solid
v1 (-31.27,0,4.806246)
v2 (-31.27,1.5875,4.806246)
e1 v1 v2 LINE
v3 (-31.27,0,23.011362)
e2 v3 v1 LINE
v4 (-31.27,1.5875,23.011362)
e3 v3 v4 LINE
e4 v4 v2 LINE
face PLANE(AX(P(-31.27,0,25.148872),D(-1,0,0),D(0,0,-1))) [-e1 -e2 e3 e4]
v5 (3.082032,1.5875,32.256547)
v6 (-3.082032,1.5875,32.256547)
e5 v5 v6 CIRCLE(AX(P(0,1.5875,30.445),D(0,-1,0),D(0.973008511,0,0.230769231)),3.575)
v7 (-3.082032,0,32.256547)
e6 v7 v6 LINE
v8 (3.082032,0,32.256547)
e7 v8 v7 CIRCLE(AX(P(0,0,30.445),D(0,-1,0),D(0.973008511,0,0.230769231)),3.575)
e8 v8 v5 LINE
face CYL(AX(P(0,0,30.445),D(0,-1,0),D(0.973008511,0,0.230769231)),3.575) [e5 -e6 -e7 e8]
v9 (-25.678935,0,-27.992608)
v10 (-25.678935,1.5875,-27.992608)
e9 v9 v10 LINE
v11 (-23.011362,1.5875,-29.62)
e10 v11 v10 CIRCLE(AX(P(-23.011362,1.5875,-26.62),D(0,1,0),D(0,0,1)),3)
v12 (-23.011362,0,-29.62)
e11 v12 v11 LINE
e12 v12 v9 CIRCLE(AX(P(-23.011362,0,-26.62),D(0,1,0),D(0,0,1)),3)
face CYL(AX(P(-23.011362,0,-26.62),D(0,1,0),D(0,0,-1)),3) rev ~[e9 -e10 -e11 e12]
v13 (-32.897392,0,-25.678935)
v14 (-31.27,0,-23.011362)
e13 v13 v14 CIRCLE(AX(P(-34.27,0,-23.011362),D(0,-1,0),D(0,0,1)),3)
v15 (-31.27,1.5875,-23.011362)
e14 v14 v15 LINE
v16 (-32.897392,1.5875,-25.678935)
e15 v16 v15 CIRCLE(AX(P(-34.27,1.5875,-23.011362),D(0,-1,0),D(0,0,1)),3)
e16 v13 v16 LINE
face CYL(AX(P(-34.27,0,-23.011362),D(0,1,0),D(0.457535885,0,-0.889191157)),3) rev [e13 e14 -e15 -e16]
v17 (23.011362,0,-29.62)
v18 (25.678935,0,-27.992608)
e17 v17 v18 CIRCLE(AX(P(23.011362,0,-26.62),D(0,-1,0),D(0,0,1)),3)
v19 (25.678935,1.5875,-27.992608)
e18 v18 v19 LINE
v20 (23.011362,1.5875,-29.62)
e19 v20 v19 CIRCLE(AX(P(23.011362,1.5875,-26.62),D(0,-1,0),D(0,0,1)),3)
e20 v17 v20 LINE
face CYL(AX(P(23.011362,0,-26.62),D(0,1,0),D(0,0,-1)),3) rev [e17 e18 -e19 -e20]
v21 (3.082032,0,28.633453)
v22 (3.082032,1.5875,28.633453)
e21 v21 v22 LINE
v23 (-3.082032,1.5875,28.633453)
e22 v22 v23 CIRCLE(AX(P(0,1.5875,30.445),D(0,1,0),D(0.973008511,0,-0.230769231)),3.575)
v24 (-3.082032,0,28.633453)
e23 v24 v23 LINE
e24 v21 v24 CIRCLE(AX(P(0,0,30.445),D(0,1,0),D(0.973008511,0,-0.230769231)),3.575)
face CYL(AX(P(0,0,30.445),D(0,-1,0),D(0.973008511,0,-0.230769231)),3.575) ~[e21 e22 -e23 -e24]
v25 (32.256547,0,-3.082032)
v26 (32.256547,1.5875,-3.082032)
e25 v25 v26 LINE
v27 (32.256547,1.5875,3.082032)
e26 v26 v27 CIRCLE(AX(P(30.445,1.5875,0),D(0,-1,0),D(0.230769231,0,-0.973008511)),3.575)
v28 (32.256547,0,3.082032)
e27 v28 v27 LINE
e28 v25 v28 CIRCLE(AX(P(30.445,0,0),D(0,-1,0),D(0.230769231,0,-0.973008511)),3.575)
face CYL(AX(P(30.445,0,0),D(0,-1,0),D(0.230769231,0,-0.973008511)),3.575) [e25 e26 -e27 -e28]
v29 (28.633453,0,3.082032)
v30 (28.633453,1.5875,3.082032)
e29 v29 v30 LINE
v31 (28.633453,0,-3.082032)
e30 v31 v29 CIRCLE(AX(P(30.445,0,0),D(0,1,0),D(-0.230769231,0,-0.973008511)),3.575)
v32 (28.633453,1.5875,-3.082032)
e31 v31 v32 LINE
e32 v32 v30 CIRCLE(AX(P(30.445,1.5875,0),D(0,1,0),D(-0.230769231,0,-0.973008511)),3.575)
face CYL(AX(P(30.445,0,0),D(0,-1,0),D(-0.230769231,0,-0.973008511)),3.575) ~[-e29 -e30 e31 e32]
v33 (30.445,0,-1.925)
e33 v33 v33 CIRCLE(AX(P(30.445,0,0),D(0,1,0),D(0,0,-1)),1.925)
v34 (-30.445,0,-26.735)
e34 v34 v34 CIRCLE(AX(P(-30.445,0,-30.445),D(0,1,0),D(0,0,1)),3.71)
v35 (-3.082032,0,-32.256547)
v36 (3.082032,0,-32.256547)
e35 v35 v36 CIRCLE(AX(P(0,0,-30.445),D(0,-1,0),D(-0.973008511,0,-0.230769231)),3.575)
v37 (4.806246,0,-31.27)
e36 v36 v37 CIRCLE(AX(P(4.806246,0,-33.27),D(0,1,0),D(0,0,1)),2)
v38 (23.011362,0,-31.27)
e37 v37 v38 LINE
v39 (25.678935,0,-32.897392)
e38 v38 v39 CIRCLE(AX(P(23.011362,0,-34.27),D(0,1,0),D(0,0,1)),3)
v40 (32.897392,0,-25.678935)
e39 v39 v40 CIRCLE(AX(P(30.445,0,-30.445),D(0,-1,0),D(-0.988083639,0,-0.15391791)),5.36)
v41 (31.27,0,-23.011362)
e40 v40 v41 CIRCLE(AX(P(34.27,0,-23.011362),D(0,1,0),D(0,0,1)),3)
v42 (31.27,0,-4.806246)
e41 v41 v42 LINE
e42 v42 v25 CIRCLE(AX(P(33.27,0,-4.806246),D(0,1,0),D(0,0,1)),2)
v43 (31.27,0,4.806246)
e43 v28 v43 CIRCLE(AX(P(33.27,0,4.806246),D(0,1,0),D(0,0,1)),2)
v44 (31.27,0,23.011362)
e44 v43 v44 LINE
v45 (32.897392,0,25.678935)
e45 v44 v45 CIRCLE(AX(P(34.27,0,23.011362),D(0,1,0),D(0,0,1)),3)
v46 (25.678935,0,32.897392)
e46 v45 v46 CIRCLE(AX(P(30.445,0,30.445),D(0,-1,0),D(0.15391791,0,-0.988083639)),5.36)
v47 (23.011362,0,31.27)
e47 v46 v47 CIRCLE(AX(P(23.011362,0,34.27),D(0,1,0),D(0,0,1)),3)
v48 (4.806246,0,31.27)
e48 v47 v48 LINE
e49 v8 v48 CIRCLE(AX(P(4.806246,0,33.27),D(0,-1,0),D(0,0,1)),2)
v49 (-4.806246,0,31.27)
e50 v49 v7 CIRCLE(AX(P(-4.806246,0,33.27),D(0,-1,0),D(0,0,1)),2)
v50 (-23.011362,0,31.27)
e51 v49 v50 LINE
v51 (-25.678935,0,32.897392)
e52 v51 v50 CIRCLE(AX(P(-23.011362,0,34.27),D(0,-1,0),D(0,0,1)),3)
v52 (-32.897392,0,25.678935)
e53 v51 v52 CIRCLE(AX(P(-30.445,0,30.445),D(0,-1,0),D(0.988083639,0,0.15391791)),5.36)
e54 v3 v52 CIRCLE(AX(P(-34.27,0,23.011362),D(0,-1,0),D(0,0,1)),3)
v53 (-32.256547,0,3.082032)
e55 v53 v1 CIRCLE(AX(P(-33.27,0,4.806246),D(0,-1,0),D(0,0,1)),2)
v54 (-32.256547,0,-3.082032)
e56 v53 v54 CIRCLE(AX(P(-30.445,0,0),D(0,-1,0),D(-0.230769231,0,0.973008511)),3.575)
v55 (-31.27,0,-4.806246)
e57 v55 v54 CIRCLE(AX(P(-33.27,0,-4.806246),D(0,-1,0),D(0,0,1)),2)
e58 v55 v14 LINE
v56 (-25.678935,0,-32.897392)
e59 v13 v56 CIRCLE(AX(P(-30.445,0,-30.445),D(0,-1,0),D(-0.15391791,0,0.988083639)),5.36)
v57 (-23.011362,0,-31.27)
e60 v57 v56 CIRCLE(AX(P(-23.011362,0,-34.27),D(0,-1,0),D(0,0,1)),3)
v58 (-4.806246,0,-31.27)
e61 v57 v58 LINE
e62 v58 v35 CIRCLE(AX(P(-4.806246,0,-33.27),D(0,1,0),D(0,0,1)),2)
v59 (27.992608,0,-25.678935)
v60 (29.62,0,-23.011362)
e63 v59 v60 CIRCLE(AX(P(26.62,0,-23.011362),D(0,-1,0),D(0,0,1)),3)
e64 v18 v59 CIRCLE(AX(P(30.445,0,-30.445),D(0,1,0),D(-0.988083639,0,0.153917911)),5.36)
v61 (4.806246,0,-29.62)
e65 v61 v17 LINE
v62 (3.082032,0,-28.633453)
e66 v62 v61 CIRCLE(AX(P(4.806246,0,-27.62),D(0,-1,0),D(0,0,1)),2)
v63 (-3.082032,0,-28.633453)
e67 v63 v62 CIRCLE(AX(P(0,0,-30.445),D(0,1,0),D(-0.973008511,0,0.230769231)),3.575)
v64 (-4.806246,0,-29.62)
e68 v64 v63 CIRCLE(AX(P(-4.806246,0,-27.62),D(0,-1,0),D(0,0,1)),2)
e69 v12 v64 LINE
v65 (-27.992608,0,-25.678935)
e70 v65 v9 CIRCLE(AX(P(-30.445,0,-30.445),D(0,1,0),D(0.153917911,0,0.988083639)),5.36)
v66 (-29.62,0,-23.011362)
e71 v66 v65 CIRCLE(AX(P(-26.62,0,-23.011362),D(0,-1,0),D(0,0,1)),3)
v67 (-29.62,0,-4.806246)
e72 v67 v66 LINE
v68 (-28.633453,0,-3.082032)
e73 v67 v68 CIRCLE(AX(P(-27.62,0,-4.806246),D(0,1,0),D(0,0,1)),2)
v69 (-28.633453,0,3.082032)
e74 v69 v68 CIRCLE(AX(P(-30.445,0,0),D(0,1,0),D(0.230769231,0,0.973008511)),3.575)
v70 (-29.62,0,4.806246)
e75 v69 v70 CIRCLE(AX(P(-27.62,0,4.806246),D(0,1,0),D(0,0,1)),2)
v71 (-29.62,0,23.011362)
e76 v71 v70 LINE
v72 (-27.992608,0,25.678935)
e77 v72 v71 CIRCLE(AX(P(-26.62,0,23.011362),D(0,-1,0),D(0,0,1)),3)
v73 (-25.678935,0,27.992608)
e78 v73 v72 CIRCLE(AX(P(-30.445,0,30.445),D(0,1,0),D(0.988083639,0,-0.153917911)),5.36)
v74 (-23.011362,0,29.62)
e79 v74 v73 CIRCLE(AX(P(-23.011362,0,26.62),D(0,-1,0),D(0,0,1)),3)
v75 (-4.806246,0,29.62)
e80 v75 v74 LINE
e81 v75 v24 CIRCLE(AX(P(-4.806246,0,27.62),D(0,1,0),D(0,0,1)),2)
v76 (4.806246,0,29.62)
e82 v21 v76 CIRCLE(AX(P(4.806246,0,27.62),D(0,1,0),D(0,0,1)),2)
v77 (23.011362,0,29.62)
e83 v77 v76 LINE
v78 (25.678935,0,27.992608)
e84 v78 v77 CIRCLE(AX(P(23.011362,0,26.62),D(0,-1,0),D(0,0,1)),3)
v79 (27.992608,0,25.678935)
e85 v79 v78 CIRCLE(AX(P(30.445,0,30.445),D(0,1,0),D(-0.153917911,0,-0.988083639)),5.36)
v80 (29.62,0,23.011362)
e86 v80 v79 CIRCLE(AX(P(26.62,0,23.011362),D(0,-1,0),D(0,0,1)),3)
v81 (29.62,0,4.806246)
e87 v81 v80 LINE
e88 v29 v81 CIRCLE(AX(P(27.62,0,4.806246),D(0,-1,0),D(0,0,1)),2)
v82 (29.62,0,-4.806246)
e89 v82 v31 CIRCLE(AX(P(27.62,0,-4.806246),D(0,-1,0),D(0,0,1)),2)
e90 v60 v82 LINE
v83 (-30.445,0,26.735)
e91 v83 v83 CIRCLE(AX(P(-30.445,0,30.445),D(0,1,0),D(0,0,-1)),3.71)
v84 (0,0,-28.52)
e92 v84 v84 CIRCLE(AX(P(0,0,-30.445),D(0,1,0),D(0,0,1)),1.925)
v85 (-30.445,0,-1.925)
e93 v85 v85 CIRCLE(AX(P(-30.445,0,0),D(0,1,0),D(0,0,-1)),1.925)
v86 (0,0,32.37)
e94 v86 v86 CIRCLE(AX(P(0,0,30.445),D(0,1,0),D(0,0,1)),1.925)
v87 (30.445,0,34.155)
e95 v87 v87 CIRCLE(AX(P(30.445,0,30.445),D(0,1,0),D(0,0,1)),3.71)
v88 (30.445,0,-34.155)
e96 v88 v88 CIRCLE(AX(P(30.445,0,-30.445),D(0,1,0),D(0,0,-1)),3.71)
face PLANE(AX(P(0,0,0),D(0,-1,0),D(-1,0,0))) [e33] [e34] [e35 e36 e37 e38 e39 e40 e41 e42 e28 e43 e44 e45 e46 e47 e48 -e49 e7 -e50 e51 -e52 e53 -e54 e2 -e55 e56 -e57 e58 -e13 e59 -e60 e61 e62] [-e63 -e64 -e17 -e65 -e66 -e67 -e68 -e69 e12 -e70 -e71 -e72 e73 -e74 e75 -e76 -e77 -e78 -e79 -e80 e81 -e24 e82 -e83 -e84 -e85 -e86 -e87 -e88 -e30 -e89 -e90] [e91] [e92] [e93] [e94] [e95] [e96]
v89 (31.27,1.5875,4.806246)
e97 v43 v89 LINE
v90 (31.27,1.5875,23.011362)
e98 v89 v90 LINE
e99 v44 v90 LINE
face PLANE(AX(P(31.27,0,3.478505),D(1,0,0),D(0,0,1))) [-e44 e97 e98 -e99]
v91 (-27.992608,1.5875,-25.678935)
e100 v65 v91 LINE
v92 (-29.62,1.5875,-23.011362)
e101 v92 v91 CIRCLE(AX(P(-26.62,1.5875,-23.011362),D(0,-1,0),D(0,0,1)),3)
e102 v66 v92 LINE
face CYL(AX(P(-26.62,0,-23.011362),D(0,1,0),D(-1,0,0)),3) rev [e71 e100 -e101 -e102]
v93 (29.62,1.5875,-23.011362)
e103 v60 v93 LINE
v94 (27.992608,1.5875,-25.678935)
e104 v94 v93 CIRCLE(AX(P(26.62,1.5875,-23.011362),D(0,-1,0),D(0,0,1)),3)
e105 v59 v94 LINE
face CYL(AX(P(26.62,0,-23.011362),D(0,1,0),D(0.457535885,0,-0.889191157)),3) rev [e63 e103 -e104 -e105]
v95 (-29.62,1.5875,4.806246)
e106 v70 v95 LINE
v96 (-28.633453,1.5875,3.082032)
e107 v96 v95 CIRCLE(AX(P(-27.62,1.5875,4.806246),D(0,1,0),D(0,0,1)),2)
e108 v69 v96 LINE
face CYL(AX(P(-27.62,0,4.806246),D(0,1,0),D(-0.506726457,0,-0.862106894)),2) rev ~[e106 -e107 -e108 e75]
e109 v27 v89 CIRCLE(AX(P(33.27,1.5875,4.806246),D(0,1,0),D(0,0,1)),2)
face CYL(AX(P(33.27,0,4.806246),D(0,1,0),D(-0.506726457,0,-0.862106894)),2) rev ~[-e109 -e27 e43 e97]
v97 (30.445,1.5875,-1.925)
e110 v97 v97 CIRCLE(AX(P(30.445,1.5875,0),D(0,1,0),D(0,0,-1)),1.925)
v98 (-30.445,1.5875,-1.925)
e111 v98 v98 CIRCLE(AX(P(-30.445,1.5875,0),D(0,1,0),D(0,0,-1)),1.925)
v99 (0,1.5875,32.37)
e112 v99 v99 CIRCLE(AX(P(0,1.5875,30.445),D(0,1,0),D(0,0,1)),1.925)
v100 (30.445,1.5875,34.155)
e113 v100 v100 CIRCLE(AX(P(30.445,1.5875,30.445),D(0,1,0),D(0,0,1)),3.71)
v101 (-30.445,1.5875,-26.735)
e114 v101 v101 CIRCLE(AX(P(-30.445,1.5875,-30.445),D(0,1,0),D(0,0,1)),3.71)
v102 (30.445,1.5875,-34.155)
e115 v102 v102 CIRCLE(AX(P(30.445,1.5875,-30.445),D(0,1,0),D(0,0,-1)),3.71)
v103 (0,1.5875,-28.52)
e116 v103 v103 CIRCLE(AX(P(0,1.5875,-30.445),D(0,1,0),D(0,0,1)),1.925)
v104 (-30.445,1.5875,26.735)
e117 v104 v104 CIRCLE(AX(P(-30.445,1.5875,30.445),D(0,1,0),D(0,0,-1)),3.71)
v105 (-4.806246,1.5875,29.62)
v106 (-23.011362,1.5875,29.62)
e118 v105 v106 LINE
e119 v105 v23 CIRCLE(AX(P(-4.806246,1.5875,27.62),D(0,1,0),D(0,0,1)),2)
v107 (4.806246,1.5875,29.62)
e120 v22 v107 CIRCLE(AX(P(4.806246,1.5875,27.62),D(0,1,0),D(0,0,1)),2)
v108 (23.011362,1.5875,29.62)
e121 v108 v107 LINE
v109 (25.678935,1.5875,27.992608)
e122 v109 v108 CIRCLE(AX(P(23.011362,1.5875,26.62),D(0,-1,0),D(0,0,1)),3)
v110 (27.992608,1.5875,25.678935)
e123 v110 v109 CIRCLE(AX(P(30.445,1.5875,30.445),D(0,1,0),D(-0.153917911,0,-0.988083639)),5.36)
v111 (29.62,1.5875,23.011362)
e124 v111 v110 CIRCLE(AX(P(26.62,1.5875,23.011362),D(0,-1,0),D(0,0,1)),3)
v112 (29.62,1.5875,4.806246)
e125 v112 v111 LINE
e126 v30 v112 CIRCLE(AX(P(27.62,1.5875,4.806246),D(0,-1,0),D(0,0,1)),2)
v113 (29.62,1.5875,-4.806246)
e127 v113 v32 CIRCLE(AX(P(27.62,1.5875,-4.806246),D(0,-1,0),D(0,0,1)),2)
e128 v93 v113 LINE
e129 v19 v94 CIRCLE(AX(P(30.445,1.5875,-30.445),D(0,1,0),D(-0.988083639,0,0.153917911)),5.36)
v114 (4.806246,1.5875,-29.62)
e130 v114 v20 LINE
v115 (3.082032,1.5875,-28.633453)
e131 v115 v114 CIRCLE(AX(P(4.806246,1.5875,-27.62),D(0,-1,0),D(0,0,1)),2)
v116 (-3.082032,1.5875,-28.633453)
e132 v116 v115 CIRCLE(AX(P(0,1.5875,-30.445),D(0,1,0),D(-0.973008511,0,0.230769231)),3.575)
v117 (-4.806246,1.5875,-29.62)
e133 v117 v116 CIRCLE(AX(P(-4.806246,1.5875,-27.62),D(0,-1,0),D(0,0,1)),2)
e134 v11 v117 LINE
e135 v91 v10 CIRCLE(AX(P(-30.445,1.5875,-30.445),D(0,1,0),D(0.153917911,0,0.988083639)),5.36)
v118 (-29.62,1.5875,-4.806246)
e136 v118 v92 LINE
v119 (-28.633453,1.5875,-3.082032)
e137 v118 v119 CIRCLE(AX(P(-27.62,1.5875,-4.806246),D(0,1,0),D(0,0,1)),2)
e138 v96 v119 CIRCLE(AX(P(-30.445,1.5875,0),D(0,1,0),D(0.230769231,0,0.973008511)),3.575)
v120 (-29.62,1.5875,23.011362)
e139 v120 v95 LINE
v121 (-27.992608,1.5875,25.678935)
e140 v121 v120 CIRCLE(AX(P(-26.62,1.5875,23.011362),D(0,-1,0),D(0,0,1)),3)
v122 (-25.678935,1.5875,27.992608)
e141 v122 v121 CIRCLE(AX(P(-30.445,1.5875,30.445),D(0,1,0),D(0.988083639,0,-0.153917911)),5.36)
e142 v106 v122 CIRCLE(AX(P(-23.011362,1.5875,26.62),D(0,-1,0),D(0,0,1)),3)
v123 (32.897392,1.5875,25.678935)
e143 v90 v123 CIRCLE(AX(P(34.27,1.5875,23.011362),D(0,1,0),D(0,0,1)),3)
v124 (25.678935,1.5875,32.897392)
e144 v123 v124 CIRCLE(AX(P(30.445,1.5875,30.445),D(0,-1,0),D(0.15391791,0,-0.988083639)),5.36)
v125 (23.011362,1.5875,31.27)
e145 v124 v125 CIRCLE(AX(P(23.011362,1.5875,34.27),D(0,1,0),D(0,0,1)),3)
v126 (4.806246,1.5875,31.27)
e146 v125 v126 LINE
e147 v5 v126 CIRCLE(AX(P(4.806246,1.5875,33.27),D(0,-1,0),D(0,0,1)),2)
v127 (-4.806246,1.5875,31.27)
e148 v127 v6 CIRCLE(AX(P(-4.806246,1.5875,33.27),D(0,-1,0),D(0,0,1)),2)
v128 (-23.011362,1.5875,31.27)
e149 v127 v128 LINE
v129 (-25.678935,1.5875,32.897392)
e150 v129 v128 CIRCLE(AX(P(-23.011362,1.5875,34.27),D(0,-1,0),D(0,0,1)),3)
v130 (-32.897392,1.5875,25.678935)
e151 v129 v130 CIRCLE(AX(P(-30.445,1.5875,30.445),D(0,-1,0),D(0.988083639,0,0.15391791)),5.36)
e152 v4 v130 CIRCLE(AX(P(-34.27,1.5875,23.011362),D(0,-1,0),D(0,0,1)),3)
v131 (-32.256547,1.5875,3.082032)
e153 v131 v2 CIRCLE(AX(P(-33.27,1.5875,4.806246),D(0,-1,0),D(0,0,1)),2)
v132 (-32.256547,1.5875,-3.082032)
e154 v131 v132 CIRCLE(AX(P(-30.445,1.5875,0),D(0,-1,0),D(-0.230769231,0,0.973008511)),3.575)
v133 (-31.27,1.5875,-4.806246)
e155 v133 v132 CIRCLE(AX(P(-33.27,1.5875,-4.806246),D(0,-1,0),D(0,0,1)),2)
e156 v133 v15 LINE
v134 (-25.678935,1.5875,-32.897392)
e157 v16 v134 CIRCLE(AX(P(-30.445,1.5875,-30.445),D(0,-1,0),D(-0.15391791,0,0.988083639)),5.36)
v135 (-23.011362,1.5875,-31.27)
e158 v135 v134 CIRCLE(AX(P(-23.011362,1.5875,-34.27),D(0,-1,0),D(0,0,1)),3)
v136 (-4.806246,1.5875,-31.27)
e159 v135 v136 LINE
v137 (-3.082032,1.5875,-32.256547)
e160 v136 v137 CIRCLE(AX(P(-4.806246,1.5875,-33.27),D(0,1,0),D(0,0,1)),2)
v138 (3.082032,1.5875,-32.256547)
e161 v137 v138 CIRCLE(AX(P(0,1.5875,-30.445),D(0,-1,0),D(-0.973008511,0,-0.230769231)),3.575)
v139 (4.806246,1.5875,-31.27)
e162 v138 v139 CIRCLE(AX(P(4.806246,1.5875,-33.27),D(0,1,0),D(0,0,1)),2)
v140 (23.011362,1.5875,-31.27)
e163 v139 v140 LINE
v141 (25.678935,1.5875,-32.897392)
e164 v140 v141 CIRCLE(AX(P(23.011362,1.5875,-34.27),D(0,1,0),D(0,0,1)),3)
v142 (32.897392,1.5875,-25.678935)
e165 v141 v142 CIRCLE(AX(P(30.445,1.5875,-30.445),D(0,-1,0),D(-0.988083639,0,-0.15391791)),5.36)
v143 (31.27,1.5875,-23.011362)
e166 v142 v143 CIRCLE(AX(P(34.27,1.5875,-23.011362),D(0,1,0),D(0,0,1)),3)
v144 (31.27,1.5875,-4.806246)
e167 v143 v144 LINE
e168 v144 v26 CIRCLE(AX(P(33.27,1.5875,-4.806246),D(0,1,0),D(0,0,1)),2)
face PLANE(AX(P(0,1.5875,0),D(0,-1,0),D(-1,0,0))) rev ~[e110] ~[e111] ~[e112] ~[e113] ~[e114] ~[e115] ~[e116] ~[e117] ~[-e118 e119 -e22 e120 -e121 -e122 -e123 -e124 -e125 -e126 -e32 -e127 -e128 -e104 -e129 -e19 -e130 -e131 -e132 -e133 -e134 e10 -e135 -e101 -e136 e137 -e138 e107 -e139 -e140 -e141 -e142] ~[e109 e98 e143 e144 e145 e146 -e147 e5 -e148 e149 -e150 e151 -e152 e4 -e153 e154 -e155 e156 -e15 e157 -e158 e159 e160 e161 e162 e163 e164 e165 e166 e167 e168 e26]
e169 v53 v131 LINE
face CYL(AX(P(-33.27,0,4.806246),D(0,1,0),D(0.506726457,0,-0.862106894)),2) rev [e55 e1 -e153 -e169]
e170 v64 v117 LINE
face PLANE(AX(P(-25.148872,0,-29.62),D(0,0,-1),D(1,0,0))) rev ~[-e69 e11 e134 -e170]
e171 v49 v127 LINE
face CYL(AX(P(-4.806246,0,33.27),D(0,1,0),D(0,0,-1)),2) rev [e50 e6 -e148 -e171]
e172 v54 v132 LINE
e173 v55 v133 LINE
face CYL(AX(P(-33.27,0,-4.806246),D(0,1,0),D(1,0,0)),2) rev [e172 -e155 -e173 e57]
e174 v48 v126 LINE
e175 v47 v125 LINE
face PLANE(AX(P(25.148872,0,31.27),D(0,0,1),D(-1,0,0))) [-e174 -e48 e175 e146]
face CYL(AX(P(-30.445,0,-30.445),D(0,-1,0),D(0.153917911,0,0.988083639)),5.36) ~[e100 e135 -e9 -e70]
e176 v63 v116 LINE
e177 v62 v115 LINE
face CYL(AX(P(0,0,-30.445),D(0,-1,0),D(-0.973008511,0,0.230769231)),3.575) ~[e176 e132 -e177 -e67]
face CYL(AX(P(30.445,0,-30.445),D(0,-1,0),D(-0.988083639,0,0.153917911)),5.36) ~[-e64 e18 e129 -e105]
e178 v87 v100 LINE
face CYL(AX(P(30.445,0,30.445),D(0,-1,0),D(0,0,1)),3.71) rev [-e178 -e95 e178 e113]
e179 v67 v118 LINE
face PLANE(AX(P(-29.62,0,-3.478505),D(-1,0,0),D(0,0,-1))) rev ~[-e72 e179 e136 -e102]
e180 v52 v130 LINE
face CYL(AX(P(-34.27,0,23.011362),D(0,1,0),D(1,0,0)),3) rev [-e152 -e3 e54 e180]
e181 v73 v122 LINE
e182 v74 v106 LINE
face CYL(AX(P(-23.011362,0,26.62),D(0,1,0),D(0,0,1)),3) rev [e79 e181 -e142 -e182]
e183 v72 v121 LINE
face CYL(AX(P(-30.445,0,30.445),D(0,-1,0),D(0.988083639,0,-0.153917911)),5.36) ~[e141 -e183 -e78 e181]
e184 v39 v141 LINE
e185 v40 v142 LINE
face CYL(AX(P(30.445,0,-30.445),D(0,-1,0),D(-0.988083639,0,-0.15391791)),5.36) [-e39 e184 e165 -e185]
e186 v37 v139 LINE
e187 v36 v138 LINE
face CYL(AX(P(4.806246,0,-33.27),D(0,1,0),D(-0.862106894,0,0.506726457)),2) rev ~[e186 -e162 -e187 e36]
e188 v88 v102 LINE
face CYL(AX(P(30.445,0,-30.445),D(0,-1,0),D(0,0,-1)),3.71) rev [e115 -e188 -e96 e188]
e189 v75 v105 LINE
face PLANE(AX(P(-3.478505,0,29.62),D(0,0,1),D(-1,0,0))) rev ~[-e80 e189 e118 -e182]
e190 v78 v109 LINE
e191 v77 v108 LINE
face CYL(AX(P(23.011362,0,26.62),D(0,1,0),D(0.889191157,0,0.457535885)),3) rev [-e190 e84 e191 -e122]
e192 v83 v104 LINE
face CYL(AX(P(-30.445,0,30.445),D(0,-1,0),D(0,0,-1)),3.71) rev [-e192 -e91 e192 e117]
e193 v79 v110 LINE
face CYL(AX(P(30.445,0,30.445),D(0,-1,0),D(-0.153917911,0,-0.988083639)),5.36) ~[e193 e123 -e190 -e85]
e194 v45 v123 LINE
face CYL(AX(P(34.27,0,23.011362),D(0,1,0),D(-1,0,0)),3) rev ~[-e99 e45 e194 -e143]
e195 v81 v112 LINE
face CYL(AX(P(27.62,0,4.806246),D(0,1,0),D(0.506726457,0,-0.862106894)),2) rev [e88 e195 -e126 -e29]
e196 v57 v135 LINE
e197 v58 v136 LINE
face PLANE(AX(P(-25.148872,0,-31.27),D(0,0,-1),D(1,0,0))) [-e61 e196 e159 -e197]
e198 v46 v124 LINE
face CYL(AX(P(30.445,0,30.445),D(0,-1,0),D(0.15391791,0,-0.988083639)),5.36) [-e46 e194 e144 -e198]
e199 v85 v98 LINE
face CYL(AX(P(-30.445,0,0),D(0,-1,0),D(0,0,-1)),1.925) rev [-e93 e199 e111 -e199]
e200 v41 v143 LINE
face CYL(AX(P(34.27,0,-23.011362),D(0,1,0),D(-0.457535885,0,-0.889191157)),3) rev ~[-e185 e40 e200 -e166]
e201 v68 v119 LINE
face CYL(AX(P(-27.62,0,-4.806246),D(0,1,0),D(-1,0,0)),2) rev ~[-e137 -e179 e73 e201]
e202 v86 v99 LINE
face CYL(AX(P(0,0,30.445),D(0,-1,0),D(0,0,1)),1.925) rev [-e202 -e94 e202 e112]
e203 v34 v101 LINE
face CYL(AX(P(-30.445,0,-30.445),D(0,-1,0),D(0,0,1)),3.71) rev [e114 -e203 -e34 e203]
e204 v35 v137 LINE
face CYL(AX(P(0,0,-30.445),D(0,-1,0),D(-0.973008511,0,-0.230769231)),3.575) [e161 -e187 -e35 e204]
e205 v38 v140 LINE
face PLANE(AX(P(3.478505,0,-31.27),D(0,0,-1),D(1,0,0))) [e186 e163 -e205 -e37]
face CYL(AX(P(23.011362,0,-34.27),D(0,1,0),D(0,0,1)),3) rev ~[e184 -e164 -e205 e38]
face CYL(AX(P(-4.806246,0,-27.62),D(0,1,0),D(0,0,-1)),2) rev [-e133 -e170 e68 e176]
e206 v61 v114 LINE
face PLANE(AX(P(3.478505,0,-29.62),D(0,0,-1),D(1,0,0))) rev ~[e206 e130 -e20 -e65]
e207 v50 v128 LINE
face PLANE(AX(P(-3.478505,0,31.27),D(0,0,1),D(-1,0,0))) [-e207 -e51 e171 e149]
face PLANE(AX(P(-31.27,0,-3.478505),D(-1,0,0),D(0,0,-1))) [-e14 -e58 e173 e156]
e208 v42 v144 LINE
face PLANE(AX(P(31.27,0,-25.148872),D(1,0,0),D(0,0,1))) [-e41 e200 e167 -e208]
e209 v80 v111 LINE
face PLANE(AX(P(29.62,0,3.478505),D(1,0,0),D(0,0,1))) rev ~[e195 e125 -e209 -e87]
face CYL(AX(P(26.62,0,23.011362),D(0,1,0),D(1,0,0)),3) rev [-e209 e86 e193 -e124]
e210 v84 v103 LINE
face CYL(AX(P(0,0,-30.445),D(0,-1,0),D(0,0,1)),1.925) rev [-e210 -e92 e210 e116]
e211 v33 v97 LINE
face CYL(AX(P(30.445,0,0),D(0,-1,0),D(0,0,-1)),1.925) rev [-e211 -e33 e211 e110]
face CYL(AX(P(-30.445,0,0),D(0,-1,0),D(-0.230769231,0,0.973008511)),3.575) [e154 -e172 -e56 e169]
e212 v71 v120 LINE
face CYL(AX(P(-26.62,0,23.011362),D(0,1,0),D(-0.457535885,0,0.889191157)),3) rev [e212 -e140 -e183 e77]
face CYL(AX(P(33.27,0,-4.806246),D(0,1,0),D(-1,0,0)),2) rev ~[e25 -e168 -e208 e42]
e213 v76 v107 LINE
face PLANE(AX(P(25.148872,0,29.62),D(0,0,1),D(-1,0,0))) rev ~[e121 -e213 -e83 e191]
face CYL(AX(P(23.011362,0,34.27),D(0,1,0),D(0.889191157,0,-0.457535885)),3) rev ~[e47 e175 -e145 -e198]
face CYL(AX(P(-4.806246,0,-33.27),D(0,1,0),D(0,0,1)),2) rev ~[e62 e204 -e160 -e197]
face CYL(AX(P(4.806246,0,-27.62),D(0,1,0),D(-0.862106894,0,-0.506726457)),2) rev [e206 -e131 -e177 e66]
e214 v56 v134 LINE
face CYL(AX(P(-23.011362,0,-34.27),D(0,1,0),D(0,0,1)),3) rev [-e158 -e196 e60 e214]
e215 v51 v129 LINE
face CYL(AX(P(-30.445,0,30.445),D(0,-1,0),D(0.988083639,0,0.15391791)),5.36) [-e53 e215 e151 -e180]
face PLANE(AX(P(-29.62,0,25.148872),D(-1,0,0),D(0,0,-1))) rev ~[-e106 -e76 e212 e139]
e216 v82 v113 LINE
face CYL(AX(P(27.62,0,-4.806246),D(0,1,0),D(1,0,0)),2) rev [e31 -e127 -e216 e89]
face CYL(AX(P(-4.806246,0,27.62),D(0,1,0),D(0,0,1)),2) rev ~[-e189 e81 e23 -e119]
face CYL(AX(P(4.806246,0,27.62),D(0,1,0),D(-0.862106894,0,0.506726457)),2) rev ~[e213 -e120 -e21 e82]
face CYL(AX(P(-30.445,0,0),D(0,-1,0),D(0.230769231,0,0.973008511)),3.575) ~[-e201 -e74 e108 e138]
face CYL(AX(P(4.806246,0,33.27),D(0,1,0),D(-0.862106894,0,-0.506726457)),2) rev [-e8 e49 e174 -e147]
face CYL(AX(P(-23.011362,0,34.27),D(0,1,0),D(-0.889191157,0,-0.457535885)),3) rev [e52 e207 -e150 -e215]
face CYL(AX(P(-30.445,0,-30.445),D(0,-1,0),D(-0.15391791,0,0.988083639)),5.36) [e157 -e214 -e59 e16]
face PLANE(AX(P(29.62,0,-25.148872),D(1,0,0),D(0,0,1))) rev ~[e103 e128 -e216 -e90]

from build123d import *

# Parameters (mm, degrees)
SKETCH1_R           = 3.71
SKETCH1_R_2         = 1.925
BOSS_EXTRUDE1_DEPTH = 1.5875
FILLET3_R           = 3
FILLET4_R           = 2


with BuildPart() as part:
    # Sketch1 → Boss-Extrude1 (new body)
    with BuildSketch(Plane(origin=(0, 0, 0), x_dir=(1, 0, 0), z_dir=(0, 1, 0))):
        with BuildLine():
            Line((-25.148871697, 31.27), (-3.478505426, 31.27))
            ThreePointArc((-3.478505426, 31.27), (0, 34.02), (3.478505426, 31.27))
            Line((3.478505426, 31.27), (25.148871697, 31.27))
            ThreePointArc((25.148871697, 31.27), (34.235092347, 34.235092347), (31.27, 25.148871697))
            Line((31.27, 25.148871697), (31.27, 3.478505426))
            ThreePointArc((31.27, 3.478505426), (34.02, 0), (31.27, -3.478505426))
            Line((31.27, -3.478505426), (31.27, -25.148871697))
            ThreePointArc((31.27, -25.148871697), (34.235092347, -34.235092347), (25.148871697, -31.27))
            Line((25.148871697, -31.27), (3.478505426, -31.27))
            ThreePointArc((3.478505426, -31.27), (0, -34.02), (-3.478505426, -31.27))
            Line((-3.478505426, -31.27), (-25.148871697, -31.27))
            ThreePointArc((-25.148871697, -31.27), (-34.235092347, -34.235092347), (-31.27, -25.148871697))
            Line((-31.27, -25.148871697), (-31.27, -3.478505426))
            ThreePointArc((-31.27, -3.478505426), (-34.02, 0), (-31.27, 3.478505426))
            Line((-31.27, 3.478505426), (-31.27, 25.148871697))
            ThreePointArc((-31.27, 25.148871697), (-34.235092347, 34.235092347), (-25.148871697, 31.27))
        make_face()
        with Locations(Location((-30.445, 30.445, 0), (0, 0, 270))):
            Circle(SKETCH1_R, mode=Mode.SUBTRACT)
        with Locations(Location((30.445, 30.445, 0), (0, 0, 90))):
            Circle(SKETCH1_R, mode=Mode.SUBTRACT)
        with Locations(Location((30.445, -30.445, 0), (0, 0, 270))):
            Circle(SKETCH1_R, mode=Mode.SUBTRACT)
        with Locations(Location((-30.445, -30.445, 0), (0, 0, 90))):
            Circle(SKETCH1_R, mode=Mode.SUBTRACT)
        with Locations(Location((0, 30.445, 0), (0, 0, 270))):
            Circle(SKETCH1_R_2, mode=Mode.SUBTRACT)
        with Locations(Location((-30.445, 0, 0), (0, 0, 90))):
            Circle(SKETCH1_R_2, mode=Mode.SUBTRACT)
        with Locations(Location((0, -30.445, 0), (0, 0, 270))):
            Circle(SKETCH1_R_2, mode=Mode.SUBTRACT)
        with Locations(Location((30.445, 0, 0), (0, 0, 90))):
            Circle(SKETCH1_R_2, mode=Mode.SUBTRACT)
        with BuildLine():
            Line((-25.148871697, 29.62), (-3.478505426, 29.62))
            ThreePointArc((-3.478505426, 29.62), (0, 26.87), (3.478505426, 29.62))
            Line((3.478505426, 29.62), (25.148871697, 29.62))
            ThreePointArc((25.148871697, 29.62), (26.654907653, 26.654907653), (29.62, 25.148871697))
            Line((29.62, 25.148871697), (29.62, 3.478505426))
            ThreePointArc((29.62, 3.478505426), (26.87, 0), (29.62, -3.478505426))
            Line((29.62, -3.478505426), (29.62, -25.148871697))
            ThreePointArc((29.62, -25.148871697), (26.654907653, -26.654907653), (25.148871697, -29.62))
            Line((25.148871697, -29.62), (3.478505426, -29.62))
            ThreePointArc((3.478505426, -29.62), (0, -26.87), (-3.478505426, -29.62))
            Line((-3.478505426, -29.62), (-25.148871697, -29.62))
            ThreePointArc((-25.148871697, -29.62), (-26.654907653, -26.654907653), (-29.62, -25.148871697))
            Line((-29.62, -25.148871697), (-29.62, -3.478505426))
            ThreePointArc((-29.62, -3.478505426), (-26.87, 0), (-29.62, 3.478505426))
            Line((-29.62, 3.478505426), (-29.62, 25.148871697))
            ThreePointArc((-29.62, 25.148871697), (-26.654907653, 26.654907653), (-25.148871697, 29.62))
        make_face(mode=Mode.SUBTRACT)
    extrude(amount=BOSS_EXTRUDE1_DEPTH)

    # Fillet3
    fillet3_edges = [part.edges().sort_by_distance(p)[0] for p in [
        (-25.148871697, 0.79375, -31.27),
        (25.148871697, 0.79375, -31.27),
        (31.27, 0.79375, -25.148871697),
        (31.27, 0.79375, 25.148871697),
        (25.148871697, 0.79375, 31.27),
        (-25.148871697, 0.79375, 31.27),
        (-31.27, 0.79375, 25.148871697),
        (-31.27, 0.79375, -25.148871697),
        (-25.148871697, 0.79375, -29.62),
        (-29.62, 0.79375, -25.148871697),
        (-29.62, 0.79375, 25.148871697),
        (-25.148871697, 0.79375, 29.62),
        (25.148871697, 0.79375, 29.62),
        (29.62, 0.79375, 25.148871697),
        (29.62, 0.79375, -25.148871697),
        (25.148871697, 0.79375, -29.62),
    ]]
    fillet(fillet3_edges, radius=FILLET3_R)

    # Fillet4
    fillet4_edges = [part.edges().sort_by_distance(p)[0] for p in [
        (-3.478505426, 0.79375, -31.27),
        (3.478505426, 0.79375, -31.27),
        (31.27, 0.79375, -3.478505426),
        (31.27, 0.79375, 3.478505426),
        (3.478505426, 0.79375, 31.27),
        (-3.478505426, 0.79375, 31.27),
        (-31.27, 0.79375, 3.478505426),
        (-31.27, 0.79375, -3.478505426),
        (-29.62, 0.79375, -3.478505426),
        (-29.62, 0.79375, 3.478505426),
        (-3.478505426, 0.79375, 29.62),
        (3.478505426, 0.79375, 29.62),
        (29.62, 0.79375, 3.478505426),
        (29.62, 0.79375, -3.478505426),
        (3.478505426, 0.79375, -29.62),
        (-3.478505426, 0.79375, -29.62),
    ]]
    fillet(fillet4_edges, radius=FILLET4_R)


solid = part.part
